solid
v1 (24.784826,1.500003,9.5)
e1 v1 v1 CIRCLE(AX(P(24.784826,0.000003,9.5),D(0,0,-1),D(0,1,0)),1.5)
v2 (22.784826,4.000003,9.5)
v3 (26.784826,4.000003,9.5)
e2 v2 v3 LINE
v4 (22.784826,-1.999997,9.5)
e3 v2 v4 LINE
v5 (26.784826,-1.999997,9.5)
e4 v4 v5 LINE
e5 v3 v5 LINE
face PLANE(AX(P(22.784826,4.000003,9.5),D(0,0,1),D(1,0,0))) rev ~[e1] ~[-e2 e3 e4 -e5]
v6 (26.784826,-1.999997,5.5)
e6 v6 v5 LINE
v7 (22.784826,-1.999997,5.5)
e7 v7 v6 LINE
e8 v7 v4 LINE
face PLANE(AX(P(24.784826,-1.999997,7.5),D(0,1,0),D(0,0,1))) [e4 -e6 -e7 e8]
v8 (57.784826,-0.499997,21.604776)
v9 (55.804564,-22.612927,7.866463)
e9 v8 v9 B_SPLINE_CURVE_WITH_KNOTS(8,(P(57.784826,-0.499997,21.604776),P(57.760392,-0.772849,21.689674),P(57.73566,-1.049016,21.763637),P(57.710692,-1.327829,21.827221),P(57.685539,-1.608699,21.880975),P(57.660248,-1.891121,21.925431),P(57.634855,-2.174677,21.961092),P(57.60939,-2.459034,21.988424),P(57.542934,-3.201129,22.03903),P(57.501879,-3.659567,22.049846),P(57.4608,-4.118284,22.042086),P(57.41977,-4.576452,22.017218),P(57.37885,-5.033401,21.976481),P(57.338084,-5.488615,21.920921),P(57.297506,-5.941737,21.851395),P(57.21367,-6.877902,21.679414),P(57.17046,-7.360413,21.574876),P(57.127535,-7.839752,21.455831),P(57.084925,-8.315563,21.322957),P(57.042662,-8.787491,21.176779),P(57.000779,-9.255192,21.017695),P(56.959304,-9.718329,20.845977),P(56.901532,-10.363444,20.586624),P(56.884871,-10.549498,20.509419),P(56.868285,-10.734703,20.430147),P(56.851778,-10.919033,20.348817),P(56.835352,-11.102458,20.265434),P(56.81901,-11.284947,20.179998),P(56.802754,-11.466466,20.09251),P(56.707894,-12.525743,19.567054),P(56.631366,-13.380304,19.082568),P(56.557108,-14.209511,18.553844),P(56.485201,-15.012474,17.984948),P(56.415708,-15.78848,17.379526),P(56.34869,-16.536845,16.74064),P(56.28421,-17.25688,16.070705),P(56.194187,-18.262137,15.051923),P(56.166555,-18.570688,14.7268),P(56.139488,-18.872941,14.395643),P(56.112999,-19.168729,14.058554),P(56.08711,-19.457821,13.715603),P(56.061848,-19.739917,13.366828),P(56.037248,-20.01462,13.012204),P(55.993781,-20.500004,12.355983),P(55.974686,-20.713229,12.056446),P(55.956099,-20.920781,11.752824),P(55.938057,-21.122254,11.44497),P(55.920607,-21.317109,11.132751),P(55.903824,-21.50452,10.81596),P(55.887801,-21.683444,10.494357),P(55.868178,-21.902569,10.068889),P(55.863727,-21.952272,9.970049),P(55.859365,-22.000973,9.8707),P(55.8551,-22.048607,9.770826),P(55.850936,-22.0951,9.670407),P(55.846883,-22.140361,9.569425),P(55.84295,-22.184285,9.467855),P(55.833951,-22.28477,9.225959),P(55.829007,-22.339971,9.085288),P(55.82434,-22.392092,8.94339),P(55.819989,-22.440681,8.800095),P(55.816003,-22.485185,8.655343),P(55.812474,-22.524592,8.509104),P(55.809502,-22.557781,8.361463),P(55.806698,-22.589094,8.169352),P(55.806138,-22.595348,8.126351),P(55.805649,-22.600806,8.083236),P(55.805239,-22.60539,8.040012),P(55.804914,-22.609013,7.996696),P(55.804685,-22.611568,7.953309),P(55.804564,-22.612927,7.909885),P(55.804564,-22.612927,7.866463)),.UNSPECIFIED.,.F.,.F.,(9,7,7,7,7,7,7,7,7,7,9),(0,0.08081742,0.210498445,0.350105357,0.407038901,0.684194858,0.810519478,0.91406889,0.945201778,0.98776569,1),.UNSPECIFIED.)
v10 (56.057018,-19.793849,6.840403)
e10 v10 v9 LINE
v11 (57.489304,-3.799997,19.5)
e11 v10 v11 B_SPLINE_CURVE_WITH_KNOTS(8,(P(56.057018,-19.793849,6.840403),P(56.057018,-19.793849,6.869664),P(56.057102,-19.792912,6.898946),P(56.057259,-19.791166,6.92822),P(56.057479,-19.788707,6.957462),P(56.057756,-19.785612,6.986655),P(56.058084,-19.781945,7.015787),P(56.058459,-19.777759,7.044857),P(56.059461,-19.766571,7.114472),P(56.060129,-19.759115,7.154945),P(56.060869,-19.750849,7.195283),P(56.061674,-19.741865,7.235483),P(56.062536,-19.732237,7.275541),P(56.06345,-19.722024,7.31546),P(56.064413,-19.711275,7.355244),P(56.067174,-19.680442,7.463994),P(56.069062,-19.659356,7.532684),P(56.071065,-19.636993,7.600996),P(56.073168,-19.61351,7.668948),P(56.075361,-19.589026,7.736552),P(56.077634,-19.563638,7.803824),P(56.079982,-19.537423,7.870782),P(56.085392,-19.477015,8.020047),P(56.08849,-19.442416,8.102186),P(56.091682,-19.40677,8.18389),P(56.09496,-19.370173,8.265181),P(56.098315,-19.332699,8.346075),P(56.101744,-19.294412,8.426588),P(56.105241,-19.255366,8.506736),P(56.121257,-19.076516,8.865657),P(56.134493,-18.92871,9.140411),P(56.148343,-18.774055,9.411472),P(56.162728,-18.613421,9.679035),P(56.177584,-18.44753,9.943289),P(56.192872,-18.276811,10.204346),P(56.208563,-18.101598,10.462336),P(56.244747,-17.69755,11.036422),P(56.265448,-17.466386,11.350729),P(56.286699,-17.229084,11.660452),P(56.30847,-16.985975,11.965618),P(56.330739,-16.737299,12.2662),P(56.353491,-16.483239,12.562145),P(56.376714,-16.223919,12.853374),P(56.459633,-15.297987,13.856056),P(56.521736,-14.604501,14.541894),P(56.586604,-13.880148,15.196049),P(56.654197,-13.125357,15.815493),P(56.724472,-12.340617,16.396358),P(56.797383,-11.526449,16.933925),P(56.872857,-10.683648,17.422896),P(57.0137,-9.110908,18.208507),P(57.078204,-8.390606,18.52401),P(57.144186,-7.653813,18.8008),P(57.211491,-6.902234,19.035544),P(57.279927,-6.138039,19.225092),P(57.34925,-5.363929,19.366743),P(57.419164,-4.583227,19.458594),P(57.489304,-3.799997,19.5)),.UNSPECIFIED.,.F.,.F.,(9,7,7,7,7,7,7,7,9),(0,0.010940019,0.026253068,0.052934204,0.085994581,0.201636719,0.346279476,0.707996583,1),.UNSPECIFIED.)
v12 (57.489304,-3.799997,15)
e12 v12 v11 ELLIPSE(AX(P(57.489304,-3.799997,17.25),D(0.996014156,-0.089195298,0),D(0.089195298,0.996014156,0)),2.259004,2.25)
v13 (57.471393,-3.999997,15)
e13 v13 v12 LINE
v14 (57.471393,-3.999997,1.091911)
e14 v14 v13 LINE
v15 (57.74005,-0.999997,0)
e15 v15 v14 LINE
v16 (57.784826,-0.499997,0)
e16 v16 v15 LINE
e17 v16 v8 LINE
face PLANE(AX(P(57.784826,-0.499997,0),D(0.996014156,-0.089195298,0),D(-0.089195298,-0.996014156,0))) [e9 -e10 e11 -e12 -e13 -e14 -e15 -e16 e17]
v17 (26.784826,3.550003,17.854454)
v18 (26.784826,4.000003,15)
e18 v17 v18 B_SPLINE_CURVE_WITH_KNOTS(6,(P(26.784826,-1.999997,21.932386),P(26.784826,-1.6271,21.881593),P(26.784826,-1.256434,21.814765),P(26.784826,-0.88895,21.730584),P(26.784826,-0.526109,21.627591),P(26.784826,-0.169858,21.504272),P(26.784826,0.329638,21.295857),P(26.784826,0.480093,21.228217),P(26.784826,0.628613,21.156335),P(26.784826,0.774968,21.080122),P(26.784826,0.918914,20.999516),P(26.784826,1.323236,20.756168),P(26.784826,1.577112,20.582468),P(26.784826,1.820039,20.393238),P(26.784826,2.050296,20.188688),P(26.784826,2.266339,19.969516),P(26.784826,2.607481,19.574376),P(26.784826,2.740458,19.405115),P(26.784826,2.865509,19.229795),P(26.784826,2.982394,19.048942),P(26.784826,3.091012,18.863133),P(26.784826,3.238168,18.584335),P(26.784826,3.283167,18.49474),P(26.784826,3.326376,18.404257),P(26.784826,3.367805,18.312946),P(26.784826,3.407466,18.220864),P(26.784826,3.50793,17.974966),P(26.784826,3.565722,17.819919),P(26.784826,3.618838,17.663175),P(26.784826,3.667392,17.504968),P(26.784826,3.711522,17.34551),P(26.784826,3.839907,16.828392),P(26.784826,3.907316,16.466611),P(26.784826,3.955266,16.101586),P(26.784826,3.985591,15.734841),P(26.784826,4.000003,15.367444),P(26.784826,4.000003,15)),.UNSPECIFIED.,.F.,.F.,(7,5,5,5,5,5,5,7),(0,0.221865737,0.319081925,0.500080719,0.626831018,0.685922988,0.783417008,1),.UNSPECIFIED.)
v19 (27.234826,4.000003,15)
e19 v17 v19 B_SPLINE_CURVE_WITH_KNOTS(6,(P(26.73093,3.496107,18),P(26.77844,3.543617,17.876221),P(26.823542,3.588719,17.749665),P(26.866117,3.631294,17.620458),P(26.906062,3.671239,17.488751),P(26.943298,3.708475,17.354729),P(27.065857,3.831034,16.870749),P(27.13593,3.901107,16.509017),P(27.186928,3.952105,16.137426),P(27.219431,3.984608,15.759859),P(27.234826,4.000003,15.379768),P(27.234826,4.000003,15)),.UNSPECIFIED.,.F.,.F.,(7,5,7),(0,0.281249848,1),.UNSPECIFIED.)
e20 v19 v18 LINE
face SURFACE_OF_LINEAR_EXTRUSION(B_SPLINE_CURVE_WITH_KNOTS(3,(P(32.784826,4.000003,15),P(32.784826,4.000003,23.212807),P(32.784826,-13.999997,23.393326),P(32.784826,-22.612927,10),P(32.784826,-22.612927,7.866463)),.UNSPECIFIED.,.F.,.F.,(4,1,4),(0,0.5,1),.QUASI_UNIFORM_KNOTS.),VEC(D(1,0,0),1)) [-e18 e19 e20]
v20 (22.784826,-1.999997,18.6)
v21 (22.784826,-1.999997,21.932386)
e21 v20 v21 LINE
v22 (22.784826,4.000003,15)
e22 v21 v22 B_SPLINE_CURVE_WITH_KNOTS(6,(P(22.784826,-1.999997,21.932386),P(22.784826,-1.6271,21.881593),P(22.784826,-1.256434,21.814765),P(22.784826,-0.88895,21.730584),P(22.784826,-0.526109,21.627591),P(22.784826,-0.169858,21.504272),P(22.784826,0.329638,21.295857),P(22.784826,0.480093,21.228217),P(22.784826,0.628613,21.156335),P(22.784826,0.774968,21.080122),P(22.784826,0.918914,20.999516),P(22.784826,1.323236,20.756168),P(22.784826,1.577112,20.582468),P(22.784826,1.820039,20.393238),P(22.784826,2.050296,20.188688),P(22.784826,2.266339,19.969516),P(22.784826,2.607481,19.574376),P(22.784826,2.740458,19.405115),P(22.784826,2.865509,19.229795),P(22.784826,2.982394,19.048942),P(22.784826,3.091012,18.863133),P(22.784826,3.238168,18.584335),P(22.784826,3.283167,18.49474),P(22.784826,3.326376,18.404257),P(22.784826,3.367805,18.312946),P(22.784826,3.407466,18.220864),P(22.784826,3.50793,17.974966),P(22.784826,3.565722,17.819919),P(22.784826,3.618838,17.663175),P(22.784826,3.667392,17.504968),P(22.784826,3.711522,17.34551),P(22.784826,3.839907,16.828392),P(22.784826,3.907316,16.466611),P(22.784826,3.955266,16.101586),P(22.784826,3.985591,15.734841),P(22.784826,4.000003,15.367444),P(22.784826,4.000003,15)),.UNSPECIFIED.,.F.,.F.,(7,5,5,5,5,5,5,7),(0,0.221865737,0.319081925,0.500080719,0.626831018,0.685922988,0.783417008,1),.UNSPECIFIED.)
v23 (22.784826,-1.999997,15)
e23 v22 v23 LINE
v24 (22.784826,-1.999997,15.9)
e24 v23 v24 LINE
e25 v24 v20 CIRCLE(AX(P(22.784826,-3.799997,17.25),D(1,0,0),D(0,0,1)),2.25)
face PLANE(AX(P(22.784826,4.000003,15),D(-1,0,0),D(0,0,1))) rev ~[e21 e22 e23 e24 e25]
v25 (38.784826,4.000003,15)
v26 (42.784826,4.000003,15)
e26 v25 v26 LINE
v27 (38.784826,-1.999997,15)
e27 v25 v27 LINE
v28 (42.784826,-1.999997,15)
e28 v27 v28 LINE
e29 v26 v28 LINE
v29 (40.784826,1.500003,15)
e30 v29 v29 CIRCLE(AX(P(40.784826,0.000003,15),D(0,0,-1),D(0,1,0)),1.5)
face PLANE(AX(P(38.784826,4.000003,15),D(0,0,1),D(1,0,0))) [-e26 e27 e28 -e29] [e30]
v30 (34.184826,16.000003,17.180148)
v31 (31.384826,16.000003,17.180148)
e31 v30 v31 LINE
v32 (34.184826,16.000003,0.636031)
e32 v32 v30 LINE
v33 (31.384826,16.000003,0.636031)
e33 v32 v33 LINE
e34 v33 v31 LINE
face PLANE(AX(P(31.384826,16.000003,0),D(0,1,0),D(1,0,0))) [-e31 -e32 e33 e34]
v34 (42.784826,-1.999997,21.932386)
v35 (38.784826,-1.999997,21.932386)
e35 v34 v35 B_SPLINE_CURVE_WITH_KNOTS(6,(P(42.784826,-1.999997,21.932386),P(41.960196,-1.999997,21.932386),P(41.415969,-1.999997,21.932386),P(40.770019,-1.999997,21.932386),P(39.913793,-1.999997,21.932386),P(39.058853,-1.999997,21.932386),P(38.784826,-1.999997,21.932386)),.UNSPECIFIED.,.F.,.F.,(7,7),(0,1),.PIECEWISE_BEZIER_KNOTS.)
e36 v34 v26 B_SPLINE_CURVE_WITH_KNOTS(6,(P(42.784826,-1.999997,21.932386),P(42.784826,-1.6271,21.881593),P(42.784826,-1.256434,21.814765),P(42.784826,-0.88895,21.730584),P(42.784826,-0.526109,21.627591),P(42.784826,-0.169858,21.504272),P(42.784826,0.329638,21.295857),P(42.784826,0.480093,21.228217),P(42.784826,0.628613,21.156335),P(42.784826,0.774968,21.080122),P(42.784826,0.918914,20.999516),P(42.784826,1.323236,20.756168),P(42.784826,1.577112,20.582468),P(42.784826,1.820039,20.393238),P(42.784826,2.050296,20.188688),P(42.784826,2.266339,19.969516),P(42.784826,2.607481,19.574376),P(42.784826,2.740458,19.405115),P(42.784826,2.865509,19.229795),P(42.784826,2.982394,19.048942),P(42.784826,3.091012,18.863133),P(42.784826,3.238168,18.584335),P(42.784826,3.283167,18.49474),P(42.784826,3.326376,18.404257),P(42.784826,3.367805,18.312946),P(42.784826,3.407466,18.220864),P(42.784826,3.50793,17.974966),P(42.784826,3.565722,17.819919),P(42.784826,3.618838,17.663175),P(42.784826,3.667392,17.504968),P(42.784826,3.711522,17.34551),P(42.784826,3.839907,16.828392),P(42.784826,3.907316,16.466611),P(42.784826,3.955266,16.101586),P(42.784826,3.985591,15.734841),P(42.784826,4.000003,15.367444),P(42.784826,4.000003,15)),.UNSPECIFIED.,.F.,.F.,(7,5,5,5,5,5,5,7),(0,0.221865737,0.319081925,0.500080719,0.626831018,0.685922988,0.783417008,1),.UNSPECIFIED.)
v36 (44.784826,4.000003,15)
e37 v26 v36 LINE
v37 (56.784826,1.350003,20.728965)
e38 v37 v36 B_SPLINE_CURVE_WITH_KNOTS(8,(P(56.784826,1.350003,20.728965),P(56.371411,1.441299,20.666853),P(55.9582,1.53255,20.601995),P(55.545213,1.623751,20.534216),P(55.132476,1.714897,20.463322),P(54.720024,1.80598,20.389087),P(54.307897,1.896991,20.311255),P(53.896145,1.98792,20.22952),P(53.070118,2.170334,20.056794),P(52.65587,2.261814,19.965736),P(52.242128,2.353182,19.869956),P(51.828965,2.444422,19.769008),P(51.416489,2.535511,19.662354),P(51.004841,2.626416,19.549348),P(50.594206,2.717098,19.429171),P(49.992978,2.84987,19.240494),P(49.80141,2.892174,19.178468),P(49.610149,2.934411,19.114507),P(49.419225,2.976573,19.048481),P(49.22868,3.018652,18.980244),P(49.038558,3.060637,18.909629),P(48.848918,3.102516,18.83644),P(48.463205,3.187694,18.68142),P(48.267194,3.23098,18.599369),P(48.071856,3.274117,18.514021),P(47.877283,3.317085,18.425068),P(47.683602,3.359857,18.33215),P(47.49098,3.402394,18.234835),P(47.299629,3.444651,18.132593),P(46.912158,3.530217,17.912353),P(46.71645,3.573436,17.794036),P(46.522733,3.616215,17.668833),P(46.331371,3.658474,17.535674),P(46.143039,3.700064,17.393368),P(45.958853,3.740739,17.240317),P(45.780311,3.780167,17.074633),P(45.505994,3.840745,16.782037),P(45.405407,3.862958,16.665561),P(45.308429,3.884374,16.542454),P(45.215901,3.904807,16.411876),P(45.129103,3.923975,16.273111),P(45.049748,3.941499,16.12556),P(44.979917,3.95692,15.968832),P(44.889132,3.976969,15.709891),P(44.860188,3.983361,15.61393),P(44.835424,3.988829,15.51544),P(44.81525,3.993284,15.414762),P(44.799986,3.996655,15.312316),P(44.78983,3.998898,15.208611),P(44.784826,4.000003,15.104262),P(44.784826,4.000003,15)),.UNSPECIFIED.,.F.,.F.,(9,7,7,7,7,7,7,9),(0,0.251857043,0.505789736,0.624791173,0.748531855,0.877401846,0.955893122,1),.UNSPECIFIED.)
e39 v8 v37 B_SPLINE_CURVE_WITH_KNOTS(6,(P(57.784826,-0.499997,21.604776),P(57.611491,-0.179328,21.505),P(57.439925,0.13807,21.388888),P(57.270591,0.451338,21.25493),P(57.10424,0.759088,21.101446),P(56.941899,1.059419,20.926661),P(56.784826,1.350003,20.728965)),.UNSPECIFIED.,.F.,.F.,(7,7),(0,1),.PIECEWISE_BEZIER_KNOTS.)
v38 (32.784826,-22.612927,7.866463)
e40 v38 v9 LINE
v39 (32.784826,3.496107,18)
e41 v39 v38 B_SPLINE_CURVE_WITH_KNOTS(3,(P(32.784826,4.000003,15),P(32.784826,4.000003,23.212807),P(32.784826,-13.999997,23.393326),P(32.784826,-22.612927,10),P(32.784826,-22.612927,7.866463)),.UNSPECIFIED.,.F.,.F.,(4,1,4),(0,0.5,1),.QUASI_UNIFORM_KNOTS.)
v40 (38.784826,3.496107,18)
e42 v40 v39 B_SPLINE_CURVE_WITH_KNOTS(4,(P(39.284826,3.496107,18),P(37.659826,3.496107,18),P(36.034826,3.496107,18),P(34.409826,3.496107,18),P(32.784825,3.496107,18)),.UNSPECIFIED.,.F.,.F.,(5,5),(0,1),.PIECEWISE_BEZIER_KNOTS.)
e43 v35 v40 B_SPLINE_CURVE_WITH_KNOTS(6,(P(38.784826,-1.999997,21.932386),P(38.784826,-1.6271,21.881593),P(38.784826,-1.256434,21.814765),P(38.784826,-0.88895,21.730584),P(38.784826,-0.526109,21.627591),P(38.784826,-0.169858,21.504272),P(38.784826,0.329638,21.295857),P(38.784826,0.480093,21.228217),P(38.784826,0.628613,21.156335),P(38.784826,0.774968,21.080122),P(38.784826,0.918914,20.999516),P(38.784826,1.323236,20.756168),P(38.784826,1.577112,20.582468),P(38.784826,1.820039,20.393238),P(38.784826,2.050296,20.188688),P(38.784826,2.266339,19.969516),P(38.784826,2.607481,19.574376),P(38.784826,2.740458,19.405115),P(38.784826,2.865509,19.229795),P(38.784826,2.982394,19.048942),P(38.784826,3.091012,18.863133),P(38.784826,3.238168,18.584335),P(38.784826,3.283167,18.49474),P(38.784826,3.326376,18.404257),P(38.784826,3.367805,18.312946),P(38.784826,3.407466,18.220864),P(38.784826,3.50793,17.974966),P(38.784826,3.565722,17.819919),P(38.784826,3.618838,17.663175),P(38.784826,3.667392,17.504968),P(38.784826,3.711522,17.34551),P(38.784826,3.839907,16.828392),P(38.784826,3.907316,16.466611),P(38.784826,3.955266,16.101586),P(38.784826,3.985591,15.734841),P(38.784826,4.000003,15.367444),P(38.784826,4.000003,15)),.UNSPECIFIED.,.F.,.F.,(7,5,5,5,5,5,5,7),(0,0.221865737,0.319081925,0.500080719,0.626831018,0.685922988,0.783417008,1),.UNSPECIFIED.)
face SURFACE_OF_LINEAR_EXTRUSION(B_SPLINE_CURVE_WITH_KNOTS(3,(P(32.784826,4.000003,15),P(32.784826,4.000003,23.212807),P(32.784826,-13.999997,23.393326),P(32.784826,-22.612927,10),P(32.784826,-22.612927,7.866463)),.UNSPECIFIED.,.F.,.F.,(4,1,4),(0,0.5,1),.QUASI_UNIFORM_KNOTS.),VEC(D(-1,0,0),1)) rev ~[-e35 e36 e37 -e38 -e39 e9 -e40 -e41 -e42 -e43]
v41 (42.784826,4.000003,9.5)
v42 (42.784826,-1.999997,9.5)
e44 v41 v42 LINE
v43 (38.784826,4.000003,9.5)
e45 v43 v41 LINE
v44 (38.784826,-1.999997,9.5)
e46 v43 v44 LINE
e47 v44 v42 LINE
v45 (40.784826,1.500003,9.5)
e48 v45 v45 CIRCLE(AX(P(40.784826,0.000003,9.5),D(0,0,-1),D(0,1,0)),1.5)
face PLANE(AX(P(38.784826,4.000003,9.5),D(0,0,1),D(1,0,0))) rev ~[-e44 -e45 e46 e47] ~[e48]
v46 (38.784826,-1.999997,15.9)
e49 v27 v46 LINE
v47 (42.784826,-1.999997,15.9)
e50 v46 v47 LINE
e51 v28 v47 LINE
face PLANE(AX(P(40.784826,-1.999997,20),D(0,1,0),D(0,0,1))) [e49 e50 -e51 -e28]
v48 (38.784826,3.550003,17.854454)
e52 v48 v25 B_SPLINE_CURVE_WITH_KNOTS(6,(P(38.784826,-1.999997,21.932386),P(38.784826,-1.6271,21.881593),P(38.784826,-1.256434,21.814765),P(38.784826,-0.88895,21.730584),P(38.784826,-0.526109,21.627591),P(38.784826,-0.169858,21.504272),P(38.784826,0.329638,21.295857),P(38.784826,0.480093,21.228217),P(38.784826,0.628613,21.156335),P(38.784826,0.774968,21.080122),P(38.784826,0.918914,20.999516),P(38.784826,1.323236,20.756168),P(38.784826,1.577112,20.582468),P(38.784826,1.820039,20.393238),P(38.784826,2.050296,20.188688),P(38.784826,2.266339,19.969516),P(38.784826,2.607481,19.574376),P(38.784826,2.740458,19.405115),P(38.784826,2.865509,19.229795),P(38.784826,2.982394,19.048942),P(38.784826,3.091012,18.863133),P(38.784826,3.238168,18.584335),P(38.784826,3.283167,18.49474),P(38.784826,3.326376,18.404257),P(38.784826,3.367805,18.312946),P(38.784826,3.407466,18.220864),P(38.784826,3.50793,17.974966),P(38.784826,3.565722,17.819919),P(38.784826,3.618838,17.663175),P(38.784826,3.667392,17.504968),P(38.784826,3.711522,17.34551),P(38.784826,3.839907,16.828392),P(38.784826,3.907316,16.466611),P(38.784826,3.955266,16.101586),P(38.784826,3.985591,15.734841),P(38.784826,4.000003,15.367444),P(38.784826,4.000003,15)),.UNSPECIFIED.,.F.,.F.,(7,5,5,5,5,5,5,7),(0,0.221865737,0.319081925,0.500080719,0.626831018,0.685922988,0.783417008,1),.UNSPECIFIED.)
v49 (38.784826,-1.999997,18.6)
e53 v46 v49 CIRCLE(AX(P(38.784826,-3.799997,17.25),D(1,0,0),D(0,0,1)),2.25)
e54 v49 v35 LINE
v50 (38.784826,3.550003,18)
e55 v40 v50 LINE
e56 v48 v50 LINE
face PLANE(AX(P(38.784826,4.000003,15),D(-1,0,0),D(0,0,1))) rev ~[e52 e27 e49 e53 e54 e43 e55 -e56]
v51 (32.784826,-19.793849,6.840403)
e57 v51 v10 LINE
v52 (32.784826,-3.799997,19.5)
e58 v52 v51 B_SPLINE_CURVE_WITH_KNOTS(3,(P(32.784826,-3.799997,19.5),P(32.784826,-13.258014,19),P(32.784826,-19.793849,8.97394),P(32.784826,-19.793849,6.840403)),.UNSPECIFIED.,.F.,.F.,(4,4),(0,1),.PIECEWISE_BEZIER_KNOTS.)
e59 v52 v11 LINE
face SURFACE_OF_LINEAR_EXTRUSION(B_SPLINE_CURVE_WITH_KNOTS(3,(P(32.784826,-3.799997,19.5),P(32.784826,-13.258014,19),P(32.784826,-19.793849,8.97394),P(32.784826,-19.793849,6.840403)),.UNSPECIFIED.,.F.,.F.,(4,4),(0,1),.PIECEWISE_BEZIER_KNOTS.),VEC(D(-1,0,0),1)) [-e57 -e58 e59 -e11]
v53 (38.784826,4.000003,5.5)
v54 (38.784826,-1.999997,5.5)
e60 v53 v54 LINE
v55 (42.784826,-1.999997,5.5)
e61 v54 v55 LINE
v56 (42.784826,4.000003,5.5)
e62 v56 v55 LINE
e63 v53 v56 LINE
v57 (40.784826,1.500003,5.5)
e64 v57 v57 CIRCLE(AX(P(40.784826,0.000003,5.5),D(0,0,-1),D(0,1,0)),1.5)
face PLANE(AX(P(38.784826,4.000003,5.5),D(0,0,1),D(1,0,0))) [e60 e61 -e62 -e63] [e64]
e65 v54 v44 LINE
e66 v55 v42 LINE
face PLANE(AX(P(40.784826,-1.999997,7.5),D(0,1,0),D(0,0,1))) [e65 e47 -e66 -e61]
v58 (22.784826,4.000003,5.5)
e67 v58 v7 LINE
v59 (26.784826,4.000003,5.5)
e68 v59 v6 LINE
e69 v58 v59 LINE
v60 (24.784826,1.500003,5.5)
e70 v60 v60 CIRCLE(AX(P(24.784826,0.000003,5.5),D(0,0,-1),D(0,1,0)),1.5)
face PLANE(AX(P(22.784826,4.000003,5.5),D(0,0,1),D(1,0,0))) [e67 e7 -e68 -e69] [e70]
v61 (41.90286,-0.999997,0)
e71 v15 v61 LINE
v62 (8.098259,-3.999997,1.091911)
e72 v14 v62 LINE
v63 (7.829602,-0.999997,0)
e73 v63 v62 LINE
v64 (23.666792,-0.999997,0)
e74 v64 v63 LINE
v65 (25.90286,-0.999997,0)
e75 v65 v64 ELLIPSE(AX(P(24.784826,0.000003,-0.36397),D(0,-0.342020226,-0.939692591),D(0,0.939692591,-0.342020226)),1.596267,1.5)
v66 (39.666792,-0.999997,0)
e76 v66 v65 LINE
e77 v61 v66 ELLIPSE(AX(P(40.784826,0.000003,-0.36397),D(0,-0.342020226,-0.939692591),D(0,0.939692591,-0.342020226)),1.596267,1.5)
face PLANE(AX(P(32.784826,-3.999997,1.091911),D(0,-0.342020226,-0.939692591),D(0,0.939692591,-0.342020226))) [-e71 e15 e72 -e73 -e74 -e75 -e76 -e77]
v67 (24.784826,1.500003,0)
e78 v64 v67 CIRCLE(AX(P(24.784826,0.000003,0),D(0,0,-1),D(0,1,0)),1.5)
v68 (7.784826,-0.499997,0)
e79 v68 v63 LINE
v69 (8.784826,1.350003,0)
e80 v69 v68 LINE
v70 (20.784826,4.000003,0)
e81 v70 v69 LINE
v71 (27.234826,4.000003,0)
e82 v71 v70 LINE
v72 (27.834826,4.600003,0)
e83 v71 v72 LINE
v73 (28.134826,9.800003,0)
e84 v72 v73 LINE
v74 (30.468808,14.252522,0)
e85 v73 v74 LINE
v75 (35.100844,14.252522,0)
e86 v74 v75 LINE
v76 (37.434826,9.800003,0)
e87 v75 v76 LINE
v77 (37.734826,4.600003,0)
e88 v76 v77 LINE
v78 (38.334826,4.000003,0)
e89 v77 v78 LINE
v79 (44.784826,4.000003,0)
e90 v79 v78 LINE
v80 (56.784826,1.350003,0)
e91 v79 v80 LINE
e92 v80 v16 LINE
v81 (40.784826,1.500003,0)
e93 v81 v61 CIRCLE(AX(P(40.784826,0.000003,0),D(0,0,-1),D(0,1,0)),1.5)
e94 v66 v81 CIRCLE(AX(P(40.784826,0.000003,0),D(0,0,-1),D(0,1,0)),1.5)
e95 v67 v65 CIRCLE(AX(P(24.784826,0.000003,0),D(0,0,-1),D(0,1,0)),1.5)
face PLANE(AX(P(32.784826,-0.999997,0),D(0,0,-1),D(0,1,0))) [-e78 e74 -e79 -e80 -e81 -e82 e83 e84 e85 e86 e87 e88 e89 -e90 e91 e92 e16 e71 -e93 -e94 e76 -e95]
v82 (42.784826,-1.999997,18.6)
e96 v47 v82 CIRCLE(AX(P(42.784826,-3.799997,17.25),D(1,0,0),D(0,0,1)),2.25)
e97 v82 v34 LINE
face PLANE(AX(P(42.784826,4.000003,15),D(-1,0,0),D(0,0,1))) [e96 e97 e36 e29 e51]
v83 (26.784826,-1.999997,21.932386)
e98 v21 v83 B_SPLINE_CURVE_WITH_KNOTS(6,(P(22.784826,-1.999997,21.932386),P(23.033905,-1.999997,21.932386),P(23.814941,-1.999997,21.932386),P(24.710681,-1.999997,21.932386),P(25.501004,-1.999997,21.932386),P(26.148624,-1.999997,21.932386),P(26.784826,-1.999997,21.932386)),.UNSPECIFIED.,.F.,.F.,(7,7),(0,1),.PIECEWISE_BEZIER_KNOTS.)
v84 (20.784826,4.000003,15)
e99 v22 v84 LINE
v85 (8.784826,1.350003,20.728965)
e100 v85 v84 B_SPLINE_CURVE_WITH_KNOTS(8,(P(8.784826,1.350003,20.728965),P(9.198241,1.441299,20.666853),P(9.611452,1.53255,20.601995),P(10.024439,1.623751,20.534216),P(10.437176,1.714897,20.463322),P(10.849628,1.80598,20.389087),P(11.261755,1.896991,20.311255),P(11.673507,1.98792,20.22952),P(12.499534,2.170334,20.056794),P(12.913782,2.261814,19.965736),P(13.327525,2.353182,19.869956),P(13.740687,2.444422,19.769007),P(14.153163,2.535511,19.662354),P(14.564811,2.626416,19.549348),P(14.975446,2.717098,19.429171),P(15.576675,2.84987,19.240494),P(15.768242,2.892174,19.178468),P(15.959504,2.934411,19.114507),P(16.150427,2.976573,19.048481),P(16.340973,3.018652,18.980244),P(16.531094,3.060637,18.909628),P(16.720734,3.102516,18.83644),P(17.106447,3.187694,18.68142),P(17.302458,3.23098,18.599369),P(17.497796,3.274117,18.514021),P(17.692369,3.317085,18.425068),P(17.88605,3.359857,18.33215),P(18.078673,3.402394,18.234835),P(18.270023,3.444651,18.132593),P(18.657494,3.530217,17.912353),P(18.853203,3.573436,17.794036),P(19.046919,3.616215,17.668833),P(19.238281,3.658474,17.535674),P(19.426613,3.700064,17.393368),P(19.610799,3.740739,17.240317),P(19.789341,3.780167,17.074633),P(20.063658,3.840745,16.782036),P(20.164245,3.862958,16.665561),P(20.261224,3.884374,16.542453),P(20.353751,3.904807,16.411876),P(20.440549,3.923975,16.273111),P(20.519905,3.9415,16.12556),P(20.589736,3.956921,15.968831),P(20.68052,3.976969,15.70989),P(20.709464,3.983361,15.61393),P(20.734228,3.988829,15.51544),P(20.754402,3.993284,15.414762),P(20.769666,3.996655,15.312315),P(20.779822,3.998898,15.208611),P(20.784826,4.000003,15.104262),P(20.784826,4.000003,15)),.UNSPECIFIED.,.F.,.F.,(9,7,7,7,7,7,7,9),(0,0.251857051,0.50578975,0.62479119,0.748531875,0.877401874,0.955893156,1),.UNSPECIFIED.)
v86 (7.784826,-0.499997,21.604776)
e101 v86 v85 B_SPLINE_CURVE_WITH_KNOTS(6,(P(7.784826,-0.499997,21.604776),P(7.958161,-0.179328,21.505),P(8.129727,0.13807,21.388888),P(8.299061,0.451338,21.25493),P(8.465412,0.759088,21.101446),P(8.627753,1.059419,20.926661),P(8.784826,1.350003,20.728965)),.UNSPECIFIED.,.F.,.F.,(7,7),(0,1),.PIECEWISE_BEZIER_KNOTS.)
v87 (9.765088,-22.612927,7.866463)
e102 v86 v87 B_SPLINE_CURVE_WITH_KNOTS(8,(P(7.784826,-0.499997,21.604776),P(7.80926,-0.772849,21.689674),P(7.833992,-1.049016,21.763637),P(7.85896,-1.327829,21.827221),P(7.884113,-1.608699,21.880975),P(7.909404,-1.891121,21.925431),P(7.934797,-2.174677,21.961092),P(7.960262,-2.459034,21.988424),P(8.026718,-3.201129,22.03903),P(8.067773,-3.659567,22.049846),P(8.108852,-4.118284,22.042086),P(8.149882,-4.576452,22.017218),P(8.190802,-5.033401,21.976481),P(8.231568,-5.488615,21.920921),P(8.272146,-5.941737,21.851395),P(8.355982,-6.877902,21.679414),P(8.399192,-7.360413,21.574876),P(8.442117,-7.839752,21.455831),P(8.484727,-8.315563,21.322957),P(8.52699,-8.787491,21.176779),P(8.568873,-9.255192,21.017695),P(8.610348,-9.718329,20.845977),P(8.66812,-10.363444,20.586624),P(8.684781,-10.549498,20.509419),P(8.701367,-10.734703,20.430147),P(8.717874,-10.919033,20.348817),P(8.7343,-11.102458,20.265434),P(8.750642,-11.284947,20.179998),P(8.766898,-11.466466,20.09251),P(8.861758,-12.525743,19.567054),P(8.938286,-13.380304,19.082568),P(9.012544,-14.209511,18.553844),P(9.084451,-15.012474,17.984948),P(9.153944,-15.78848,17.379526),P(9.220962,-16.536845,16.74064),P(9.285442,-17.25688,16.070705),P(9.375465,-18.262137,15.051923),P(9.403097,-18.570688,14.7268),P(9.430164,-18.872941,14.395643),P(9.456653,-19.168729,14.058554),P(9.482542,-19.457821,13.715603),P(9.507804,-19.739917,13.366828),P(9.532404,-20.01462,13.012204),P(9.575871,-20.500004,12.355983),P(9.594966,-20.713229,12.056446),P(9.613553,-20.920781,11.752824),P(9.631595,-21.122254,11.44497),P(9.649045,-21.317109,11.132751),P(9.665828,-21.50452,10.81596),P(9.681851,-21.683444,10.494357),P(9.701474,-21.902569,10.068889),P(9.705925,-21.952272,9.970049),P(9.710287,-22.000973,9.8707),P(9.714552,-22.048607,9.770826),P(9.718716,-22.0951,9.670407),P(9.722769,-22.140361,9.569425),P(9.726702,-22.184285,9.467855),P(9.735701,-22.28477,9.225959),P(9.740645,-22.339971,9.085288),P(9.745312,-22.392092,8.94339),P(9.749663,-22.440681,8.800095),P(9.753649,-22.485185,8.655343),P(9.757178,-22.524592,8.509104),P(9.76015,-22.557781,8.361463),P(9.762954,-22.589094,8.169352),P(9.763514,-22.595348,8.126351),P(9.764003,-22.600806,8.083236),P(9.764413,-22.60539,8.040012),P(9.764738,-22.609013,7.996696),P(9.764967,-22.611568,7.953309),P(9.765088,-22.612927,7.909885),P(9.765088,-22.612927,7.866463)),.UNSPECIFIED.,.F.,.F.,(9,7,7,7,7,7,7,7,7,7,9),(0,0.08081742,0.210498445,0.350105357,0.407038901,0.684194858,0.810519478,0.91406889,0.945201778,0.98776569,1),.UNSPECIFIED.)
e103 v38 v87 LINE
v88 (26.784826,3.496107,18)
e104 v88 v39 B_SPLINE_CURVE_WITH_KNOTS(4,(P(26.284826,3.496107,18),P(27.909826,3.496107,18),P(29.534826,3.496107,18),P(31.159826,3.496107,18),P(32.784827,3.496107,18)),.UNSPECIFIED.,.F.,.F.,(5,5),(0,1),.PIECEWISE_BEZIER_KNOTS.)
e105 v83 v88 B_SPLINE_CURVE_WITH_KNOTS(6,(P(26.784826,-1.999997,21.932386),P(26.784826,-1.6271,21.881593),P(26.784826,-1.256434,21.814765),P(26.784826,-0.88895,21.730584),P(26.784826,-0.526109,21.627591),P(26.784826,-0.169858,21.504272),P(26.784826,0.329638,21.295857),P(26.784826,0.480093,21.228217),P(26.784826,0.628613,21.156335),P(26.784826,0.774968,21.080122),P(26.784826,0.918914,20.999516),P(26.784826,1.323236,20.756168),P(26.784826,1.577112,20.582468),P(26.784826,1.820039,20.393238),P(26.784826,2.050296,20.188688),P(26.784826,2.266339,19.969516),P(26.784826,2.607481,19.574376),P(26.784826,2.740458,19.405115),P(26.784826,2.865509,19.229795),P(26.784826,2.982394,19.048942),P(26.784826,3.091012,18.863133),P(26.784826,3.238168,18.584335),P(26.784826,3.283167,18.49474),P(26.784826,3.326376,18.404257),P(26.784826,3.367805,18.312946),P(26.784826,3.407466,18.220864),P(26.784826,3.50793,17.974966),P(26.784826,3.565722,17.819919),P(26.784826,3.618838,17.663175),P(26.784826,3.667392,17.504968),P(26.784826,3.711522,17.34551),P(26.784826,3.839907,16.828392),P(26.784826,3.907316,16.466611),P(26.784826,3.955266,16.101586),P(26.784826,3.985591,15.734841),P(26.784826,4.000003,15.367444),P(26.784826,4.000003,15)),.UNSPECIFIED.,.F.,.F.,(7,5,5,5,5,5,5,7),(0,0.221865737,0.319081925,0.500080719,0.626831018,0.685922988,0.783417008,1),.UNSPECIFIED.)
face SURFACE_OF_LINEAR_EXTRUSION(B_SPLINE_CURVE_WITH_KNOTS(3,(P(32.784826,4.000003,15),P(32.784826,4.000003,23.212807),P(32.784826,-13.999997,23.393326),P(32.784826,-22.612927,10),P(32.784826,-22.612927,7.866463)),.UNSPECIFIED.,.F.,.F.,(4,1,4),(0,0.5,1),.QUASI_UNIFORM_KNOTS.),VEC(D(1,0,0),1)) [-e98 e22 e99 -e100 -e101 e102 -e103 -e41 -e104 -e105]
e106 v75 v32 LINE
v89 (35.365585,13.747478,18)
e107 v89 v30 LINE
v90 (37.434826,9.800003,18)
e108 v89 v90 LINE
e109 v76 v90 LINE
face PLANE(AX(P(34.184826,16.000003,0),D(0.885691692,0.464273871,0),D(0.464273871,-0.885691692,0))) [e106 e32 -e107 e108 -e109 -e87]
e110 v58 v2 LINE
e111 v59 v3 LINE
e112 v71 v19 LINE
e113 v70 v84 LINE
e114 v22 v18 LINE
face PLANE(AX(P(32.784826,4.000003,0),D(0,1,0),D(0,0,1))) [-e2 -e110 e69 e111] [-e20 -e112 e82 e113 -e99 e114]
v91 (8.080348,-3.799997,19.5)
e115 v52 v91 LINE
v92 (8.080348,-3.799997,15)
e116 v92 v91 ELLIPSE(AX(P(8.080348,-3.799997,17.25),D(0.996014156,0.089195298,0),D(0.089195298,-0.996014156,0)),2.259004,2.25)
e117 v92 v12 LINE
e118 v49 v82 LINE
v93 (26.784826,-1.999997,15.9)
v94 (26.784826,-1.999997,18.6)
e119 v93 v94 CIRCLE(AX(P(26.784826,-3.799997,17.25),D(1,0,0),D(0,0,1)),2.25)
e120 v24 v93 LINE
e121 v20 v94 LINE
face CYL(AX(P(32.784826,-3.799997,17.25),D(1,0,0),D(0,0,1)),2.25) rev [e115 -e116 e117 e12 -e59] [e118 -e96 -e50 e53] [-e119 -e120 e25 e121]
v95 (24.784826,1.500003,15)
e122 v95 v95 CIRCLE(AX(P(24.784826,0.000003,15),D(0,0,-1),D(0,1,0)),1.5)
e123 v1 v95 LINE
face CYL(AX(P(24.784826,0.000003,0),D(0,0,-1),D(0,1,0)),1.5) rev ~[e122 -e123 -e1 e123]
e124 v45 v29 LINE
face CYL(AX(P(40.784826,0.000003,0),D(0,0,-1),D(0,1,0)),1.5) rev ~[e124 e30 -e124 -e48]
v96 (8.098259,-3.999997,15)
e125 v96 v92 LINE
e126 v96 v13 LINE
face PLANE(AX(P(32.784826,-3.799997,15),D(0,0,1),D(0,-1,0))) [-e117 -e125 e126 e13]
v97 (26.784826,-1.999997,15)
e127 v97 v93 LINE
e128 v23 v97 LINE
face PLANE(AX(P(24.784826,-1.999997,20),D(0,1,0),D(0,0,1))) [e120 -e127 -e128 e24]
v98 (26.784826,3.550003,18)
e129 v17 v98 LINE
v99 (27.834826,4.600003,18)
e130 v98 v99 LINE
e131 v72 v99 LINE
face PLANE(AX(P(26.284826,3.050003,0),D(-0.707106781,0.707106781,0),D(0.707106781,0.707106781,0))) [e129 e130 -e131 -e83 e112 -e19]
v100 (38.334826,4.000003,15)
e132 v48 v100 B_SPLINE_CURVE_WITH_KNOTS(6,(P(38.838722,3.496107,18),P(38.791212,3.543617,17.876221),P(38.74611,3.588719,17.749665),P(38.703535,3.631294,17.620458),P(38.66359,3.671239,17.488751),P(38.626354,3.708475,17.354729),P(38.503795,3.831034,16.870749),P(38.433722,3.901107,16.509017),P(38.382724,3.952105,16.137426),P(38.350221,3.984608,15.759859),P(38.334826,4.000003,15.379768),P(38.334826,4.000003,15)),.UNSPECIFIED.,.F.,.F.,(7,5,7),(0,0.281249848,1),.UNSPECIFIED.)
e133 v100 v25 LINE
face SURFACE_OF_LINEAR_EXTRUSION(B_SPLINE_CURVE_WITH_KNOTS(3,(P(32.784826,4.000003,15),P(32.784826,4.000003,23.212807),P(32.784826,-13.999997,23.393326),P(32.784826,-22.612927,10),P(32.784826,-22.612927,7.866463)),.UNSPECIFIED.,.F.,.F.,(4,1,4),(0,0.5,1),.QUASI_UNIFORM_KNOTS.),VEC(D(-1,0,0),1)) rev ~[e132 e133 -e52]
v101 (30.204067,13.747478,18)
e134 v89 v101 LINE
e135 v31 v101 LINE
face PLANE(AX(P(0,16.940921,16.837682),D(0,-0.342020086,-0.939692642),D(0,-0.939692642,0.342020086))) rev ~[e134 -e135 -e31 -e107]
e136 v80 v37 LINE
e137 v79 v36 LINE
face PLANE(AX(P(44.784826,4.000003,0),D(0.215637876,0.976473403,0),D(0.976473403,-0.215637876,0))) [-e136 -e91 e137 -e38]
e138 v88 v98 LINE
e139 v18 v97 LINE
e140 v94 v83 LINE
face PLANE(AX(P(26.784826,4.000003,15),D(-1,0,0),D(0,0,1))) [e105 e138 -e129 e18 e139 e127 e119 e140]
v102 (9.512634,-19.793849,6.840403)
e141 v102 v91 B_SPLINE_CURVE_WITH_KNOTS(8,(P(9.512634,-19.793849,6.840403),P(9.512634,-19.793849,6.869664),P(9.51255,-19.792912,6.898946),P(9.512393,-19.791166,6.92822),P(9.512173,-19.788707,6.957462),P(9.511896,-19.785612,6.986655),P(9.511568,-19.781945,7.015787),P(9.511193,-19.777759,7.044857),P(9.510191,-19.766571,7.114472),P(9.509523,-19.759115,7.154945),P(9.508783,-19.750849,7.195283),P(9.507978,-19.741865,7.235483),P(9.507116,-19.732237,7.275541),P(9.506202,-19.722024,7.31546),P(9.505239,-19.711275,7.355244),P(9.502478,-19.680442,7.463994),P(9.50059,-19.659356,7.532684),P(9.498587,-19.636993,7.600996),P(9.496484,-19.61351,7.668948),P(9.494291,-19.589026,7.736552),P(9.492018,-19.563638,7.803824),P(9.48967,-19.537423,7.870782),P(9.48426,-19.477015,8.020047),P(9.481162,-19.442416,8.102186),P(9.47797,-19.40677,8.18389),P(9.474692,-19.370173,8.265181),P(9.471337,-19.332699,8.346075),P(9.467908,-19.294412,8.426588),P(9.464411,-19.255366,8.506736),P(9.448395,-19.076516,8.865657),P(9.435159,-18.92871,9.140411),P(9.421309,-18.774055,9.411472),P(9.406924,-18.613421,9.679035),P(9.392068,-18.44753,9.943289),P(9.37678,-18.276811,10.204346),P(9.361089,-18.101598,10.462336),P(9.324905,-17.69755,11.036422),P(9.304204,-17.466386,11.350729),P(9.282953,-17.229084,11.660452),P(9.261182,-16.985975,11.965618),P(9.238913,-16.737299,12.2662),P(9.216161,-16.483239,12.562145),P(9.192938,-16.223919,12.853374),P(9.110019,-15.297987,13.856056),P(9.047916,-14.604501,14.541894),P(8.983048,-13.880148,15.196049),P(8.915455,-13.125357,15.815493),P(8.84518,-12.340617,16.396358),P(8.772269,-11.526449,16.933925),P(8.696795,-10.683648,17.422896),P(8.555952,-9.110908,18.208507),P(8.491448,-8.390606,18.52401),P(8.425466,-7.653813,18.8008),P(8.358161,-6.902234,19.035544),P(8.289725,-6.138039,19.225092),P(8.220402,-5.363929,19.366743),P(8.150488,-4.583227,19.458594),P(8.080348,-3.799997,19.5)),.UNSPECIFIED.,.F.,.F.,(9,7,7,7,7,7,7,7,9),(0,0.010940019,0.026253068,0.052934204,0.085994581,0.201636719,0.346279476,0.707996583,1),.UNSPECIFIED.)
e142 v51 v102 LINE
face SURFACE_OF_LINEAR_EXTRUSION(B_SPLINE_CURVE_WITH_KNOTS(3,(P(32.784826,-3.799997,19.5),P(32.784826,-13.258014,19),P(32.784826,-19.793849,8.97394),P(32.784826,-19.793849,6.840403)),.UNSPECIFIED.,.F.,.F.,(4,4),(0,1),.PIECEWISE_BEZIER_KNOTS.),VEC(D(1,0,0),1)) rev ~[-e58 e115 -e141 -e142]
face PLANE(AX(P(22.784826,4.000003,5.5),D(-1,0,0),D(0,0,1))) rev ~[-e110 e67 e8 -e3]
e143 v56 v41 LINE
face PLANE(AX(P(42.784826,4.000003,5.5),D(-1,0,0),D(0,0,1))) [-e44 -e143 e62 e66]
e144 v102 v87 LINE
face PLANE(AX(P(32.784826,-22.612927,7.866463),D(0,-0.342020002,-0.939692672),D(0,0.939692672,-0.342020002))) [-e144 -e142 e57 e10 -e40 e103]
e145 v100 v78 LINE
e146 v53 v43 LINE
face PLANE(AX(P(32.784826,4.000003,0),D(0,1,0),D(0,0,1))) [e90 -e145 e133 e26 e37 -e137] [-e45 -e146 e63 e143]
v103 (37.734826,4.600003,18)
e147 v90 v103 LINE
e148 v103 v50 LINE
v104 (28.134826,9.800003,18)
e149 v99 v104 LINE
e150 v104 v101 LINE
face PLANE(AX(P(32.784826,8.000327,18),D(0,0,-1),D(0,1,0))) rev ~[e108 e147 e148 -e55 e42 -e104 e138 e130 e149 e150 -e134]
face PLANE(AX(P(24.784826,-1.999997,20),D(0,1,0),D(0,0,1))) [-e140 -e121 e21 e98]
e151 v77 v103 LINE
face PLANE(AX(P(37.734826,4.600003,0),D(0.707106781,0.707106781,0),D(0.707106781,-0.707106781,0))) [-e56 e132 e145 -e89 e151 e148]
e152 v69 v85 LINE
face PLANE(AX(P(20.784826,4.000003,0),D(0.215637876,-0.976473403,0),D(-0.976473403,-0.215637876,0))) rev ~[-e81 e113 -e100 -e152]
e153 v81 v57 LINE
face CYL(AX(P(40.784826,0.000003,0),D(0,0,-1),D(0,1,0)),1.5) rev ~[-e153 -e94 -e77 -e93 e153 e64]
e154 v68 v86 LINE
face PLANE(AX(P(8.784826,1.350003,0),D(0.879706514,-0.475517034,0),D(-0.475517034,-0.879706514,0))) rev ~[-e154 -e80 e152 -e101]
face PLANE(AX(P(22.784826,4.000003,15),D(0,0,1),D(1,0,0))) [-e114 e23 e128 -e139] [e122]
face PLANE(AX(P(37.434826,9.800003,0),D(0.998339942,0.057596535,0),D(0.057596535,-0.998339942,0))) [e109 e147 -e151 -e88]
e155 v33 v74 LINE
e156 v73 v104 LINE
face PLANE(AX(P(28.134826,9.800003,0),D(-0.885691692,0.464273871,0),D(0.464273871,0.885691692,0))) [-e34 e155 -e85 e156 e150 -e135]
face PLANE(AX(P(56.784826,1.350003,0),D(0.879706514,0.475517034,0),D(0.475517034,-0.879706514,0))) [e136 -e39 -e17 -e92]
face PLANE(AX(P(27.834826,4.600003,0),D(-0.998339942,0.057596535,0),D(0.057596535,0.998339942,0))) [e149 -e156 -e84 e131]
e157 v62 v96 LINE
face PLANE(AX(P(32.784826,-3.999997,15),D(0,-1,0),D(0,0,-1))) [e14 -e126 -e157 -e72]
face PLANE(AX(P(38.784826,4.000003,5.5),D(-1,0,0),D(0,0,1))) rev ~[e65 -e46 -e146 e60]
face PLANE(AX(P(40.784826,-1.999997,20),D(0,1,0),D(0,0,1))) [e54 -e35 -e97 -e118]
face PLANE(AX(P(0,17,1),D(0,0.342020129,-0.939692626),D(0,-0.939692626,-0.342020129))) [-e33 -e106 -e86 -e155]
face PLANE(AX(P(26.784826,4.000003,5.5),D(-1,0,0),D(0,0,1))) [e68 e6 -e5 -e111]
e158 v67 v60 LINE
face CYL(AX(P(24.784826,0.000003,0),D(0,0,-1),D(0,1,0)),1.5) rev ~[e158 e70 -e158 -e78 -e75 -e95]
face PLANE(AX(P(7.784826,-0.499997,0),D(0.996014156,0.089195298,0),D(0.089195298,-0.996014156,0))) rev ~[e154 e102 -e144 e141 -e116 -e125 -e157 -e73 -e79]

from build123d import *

# Parameters (mm, degrees)
PAD_DEPTH            = 25
PAD001_DEPTH         = 18
SKETCH009_R          = 1.5
POCKET_DEPTH         = 22.037219
SKETCH010_W          = 4
SKETCH010_H          = 4
SKETCH010_W_2        = 10
POCKET001_DEPTH      = 6
POCKET002_DEPTH      = 0.001
POCKET002_DEPTH_BACK = -57.785827


with BuildPart() as part:
    # Sketch006 → Pad (new body, symmetric)
    with BuildSketch(Plane(origin=(32.784826, 3e-06, 0), x_dir=(0, 1, 0), z_dir=(1, 0, 0))):
        with BuildLine():
            Line((4, 0), (4, 15))
            add(Edge.make_bspline(
                [(4, 15), (4, 23.212807), (-14, 23.393326), (-22.61293, 10), (-22.61293, 7.866463)],
                knots=[0, 0, 0, 0, 0.5, 1, 1, 1, 1], degree=3))
            Line((-22.61293, 7.866463), (-19.793852, 6.840403))
            add(Edge.make_bspline(
                [(-3.8, 19.5), (-13.258017, 19), (-19.793852, 8.97394), (-19.793852, 6.840403)],
                knots=[0, 0, 0, 0, 1, 1, 1, 1], degree=3))
            ThreePointArc((-3.8, 19.5), (-1.55, 17.25), (-3.8, 15))
            Line((-3.8, 15), (-4, 15))
            Line((-4, 15), (-4, 1.091911))
            Line((-4, 1.091911), (-1, 0))
            Line((-1, 0), (4, 0))
        make_face()
    extrude(amount=PAD_DEPTH, both=True)

    # Sketch008 (on Face9 of Pad) → Pad001 (join)
    with BuildSketch(Plane(origin=(32.784826, 3e-06, 0), x_dir=(0, 1, 0), z_dir=(0, 0, -1))):
        Polygon((3.05, 6.5), (3.05, -6.5), (4.6, -4.95), (9.8, -4.65), (16, -1.4), (16, 1.4), (9.8, 4.65), (4.6, 4.95), align=None)
    extrude(amount=-PAD001_DEPTH)

    # Sketch009 (on Face5 of Pad001) → Pocket (cut, through all)
    with BuildSketch(Plane(origin=(32.784826, 3e-06, 0), x_dir=(0, 1, 0), z_dir=(0, 0, -1))):
        with Locations((0, -8)):
            Circle(SKETCH009_R)
        with Locations((0, 8)):
            Circle(SKETCH009_R)
        Polygon((-34, -26), (4, -26), (4, -12), (1.35, -24), (-0.5, -25), (-34, -22), align=None)
        Polygon((-34, 26), (4, 26), (4, 12), (1.35, 24), (-0.5, 25), (-34, 22), align=None)
    extrude(amount=-POCKET_DEPTH, mode=Mode.SUBTRACT)

    # Sketch010 (on Face12 of Pocket) → Pocket001 (cut)
    with BuildSketch(Plane(origin=(32.784826, 4.000003, 0), x_dir=(0, 0, 1), z_dir=(0, 1, 0))):
        with Locations((7.5, 8)):
            Rectangle(SKETCH010_W, SKETCH010_H)
        with Locations((7.5, -8)):
            Rectangle(SKETCH010_W, SKETCH010_H)
        with Locations((20, 8)):
            Rectangle(SKETCH010_W_2, SKETCH010_H)
        with Locations((20, -8)):
            Rectangle(SKETCH010_W_2, SKETCH010_H)
    extrude(amount=-POCKET001_DEPTH, mode=Mode.SUBTRACT)

    # Sketch → Pocket002 (cut, two sides)
    with BuildSketch(Plane.YZ) as pocket002_sk:
        Polygon((11, 19), (16.940921, 19), (16.940921, 16.837682), align=None)
        Polygon((12.734107, -0.552658), (17, -0.552658), (17, 1), align=None)
    extrude(amount=-POCKET002_DEPTH, mode=Mode.SUBTRACT)
    extrude(pocket002_sk.sketch, amount=-POCKET002_DEPTH_BACK, mode=Mode.SUBTRACT)


solid = part.part
